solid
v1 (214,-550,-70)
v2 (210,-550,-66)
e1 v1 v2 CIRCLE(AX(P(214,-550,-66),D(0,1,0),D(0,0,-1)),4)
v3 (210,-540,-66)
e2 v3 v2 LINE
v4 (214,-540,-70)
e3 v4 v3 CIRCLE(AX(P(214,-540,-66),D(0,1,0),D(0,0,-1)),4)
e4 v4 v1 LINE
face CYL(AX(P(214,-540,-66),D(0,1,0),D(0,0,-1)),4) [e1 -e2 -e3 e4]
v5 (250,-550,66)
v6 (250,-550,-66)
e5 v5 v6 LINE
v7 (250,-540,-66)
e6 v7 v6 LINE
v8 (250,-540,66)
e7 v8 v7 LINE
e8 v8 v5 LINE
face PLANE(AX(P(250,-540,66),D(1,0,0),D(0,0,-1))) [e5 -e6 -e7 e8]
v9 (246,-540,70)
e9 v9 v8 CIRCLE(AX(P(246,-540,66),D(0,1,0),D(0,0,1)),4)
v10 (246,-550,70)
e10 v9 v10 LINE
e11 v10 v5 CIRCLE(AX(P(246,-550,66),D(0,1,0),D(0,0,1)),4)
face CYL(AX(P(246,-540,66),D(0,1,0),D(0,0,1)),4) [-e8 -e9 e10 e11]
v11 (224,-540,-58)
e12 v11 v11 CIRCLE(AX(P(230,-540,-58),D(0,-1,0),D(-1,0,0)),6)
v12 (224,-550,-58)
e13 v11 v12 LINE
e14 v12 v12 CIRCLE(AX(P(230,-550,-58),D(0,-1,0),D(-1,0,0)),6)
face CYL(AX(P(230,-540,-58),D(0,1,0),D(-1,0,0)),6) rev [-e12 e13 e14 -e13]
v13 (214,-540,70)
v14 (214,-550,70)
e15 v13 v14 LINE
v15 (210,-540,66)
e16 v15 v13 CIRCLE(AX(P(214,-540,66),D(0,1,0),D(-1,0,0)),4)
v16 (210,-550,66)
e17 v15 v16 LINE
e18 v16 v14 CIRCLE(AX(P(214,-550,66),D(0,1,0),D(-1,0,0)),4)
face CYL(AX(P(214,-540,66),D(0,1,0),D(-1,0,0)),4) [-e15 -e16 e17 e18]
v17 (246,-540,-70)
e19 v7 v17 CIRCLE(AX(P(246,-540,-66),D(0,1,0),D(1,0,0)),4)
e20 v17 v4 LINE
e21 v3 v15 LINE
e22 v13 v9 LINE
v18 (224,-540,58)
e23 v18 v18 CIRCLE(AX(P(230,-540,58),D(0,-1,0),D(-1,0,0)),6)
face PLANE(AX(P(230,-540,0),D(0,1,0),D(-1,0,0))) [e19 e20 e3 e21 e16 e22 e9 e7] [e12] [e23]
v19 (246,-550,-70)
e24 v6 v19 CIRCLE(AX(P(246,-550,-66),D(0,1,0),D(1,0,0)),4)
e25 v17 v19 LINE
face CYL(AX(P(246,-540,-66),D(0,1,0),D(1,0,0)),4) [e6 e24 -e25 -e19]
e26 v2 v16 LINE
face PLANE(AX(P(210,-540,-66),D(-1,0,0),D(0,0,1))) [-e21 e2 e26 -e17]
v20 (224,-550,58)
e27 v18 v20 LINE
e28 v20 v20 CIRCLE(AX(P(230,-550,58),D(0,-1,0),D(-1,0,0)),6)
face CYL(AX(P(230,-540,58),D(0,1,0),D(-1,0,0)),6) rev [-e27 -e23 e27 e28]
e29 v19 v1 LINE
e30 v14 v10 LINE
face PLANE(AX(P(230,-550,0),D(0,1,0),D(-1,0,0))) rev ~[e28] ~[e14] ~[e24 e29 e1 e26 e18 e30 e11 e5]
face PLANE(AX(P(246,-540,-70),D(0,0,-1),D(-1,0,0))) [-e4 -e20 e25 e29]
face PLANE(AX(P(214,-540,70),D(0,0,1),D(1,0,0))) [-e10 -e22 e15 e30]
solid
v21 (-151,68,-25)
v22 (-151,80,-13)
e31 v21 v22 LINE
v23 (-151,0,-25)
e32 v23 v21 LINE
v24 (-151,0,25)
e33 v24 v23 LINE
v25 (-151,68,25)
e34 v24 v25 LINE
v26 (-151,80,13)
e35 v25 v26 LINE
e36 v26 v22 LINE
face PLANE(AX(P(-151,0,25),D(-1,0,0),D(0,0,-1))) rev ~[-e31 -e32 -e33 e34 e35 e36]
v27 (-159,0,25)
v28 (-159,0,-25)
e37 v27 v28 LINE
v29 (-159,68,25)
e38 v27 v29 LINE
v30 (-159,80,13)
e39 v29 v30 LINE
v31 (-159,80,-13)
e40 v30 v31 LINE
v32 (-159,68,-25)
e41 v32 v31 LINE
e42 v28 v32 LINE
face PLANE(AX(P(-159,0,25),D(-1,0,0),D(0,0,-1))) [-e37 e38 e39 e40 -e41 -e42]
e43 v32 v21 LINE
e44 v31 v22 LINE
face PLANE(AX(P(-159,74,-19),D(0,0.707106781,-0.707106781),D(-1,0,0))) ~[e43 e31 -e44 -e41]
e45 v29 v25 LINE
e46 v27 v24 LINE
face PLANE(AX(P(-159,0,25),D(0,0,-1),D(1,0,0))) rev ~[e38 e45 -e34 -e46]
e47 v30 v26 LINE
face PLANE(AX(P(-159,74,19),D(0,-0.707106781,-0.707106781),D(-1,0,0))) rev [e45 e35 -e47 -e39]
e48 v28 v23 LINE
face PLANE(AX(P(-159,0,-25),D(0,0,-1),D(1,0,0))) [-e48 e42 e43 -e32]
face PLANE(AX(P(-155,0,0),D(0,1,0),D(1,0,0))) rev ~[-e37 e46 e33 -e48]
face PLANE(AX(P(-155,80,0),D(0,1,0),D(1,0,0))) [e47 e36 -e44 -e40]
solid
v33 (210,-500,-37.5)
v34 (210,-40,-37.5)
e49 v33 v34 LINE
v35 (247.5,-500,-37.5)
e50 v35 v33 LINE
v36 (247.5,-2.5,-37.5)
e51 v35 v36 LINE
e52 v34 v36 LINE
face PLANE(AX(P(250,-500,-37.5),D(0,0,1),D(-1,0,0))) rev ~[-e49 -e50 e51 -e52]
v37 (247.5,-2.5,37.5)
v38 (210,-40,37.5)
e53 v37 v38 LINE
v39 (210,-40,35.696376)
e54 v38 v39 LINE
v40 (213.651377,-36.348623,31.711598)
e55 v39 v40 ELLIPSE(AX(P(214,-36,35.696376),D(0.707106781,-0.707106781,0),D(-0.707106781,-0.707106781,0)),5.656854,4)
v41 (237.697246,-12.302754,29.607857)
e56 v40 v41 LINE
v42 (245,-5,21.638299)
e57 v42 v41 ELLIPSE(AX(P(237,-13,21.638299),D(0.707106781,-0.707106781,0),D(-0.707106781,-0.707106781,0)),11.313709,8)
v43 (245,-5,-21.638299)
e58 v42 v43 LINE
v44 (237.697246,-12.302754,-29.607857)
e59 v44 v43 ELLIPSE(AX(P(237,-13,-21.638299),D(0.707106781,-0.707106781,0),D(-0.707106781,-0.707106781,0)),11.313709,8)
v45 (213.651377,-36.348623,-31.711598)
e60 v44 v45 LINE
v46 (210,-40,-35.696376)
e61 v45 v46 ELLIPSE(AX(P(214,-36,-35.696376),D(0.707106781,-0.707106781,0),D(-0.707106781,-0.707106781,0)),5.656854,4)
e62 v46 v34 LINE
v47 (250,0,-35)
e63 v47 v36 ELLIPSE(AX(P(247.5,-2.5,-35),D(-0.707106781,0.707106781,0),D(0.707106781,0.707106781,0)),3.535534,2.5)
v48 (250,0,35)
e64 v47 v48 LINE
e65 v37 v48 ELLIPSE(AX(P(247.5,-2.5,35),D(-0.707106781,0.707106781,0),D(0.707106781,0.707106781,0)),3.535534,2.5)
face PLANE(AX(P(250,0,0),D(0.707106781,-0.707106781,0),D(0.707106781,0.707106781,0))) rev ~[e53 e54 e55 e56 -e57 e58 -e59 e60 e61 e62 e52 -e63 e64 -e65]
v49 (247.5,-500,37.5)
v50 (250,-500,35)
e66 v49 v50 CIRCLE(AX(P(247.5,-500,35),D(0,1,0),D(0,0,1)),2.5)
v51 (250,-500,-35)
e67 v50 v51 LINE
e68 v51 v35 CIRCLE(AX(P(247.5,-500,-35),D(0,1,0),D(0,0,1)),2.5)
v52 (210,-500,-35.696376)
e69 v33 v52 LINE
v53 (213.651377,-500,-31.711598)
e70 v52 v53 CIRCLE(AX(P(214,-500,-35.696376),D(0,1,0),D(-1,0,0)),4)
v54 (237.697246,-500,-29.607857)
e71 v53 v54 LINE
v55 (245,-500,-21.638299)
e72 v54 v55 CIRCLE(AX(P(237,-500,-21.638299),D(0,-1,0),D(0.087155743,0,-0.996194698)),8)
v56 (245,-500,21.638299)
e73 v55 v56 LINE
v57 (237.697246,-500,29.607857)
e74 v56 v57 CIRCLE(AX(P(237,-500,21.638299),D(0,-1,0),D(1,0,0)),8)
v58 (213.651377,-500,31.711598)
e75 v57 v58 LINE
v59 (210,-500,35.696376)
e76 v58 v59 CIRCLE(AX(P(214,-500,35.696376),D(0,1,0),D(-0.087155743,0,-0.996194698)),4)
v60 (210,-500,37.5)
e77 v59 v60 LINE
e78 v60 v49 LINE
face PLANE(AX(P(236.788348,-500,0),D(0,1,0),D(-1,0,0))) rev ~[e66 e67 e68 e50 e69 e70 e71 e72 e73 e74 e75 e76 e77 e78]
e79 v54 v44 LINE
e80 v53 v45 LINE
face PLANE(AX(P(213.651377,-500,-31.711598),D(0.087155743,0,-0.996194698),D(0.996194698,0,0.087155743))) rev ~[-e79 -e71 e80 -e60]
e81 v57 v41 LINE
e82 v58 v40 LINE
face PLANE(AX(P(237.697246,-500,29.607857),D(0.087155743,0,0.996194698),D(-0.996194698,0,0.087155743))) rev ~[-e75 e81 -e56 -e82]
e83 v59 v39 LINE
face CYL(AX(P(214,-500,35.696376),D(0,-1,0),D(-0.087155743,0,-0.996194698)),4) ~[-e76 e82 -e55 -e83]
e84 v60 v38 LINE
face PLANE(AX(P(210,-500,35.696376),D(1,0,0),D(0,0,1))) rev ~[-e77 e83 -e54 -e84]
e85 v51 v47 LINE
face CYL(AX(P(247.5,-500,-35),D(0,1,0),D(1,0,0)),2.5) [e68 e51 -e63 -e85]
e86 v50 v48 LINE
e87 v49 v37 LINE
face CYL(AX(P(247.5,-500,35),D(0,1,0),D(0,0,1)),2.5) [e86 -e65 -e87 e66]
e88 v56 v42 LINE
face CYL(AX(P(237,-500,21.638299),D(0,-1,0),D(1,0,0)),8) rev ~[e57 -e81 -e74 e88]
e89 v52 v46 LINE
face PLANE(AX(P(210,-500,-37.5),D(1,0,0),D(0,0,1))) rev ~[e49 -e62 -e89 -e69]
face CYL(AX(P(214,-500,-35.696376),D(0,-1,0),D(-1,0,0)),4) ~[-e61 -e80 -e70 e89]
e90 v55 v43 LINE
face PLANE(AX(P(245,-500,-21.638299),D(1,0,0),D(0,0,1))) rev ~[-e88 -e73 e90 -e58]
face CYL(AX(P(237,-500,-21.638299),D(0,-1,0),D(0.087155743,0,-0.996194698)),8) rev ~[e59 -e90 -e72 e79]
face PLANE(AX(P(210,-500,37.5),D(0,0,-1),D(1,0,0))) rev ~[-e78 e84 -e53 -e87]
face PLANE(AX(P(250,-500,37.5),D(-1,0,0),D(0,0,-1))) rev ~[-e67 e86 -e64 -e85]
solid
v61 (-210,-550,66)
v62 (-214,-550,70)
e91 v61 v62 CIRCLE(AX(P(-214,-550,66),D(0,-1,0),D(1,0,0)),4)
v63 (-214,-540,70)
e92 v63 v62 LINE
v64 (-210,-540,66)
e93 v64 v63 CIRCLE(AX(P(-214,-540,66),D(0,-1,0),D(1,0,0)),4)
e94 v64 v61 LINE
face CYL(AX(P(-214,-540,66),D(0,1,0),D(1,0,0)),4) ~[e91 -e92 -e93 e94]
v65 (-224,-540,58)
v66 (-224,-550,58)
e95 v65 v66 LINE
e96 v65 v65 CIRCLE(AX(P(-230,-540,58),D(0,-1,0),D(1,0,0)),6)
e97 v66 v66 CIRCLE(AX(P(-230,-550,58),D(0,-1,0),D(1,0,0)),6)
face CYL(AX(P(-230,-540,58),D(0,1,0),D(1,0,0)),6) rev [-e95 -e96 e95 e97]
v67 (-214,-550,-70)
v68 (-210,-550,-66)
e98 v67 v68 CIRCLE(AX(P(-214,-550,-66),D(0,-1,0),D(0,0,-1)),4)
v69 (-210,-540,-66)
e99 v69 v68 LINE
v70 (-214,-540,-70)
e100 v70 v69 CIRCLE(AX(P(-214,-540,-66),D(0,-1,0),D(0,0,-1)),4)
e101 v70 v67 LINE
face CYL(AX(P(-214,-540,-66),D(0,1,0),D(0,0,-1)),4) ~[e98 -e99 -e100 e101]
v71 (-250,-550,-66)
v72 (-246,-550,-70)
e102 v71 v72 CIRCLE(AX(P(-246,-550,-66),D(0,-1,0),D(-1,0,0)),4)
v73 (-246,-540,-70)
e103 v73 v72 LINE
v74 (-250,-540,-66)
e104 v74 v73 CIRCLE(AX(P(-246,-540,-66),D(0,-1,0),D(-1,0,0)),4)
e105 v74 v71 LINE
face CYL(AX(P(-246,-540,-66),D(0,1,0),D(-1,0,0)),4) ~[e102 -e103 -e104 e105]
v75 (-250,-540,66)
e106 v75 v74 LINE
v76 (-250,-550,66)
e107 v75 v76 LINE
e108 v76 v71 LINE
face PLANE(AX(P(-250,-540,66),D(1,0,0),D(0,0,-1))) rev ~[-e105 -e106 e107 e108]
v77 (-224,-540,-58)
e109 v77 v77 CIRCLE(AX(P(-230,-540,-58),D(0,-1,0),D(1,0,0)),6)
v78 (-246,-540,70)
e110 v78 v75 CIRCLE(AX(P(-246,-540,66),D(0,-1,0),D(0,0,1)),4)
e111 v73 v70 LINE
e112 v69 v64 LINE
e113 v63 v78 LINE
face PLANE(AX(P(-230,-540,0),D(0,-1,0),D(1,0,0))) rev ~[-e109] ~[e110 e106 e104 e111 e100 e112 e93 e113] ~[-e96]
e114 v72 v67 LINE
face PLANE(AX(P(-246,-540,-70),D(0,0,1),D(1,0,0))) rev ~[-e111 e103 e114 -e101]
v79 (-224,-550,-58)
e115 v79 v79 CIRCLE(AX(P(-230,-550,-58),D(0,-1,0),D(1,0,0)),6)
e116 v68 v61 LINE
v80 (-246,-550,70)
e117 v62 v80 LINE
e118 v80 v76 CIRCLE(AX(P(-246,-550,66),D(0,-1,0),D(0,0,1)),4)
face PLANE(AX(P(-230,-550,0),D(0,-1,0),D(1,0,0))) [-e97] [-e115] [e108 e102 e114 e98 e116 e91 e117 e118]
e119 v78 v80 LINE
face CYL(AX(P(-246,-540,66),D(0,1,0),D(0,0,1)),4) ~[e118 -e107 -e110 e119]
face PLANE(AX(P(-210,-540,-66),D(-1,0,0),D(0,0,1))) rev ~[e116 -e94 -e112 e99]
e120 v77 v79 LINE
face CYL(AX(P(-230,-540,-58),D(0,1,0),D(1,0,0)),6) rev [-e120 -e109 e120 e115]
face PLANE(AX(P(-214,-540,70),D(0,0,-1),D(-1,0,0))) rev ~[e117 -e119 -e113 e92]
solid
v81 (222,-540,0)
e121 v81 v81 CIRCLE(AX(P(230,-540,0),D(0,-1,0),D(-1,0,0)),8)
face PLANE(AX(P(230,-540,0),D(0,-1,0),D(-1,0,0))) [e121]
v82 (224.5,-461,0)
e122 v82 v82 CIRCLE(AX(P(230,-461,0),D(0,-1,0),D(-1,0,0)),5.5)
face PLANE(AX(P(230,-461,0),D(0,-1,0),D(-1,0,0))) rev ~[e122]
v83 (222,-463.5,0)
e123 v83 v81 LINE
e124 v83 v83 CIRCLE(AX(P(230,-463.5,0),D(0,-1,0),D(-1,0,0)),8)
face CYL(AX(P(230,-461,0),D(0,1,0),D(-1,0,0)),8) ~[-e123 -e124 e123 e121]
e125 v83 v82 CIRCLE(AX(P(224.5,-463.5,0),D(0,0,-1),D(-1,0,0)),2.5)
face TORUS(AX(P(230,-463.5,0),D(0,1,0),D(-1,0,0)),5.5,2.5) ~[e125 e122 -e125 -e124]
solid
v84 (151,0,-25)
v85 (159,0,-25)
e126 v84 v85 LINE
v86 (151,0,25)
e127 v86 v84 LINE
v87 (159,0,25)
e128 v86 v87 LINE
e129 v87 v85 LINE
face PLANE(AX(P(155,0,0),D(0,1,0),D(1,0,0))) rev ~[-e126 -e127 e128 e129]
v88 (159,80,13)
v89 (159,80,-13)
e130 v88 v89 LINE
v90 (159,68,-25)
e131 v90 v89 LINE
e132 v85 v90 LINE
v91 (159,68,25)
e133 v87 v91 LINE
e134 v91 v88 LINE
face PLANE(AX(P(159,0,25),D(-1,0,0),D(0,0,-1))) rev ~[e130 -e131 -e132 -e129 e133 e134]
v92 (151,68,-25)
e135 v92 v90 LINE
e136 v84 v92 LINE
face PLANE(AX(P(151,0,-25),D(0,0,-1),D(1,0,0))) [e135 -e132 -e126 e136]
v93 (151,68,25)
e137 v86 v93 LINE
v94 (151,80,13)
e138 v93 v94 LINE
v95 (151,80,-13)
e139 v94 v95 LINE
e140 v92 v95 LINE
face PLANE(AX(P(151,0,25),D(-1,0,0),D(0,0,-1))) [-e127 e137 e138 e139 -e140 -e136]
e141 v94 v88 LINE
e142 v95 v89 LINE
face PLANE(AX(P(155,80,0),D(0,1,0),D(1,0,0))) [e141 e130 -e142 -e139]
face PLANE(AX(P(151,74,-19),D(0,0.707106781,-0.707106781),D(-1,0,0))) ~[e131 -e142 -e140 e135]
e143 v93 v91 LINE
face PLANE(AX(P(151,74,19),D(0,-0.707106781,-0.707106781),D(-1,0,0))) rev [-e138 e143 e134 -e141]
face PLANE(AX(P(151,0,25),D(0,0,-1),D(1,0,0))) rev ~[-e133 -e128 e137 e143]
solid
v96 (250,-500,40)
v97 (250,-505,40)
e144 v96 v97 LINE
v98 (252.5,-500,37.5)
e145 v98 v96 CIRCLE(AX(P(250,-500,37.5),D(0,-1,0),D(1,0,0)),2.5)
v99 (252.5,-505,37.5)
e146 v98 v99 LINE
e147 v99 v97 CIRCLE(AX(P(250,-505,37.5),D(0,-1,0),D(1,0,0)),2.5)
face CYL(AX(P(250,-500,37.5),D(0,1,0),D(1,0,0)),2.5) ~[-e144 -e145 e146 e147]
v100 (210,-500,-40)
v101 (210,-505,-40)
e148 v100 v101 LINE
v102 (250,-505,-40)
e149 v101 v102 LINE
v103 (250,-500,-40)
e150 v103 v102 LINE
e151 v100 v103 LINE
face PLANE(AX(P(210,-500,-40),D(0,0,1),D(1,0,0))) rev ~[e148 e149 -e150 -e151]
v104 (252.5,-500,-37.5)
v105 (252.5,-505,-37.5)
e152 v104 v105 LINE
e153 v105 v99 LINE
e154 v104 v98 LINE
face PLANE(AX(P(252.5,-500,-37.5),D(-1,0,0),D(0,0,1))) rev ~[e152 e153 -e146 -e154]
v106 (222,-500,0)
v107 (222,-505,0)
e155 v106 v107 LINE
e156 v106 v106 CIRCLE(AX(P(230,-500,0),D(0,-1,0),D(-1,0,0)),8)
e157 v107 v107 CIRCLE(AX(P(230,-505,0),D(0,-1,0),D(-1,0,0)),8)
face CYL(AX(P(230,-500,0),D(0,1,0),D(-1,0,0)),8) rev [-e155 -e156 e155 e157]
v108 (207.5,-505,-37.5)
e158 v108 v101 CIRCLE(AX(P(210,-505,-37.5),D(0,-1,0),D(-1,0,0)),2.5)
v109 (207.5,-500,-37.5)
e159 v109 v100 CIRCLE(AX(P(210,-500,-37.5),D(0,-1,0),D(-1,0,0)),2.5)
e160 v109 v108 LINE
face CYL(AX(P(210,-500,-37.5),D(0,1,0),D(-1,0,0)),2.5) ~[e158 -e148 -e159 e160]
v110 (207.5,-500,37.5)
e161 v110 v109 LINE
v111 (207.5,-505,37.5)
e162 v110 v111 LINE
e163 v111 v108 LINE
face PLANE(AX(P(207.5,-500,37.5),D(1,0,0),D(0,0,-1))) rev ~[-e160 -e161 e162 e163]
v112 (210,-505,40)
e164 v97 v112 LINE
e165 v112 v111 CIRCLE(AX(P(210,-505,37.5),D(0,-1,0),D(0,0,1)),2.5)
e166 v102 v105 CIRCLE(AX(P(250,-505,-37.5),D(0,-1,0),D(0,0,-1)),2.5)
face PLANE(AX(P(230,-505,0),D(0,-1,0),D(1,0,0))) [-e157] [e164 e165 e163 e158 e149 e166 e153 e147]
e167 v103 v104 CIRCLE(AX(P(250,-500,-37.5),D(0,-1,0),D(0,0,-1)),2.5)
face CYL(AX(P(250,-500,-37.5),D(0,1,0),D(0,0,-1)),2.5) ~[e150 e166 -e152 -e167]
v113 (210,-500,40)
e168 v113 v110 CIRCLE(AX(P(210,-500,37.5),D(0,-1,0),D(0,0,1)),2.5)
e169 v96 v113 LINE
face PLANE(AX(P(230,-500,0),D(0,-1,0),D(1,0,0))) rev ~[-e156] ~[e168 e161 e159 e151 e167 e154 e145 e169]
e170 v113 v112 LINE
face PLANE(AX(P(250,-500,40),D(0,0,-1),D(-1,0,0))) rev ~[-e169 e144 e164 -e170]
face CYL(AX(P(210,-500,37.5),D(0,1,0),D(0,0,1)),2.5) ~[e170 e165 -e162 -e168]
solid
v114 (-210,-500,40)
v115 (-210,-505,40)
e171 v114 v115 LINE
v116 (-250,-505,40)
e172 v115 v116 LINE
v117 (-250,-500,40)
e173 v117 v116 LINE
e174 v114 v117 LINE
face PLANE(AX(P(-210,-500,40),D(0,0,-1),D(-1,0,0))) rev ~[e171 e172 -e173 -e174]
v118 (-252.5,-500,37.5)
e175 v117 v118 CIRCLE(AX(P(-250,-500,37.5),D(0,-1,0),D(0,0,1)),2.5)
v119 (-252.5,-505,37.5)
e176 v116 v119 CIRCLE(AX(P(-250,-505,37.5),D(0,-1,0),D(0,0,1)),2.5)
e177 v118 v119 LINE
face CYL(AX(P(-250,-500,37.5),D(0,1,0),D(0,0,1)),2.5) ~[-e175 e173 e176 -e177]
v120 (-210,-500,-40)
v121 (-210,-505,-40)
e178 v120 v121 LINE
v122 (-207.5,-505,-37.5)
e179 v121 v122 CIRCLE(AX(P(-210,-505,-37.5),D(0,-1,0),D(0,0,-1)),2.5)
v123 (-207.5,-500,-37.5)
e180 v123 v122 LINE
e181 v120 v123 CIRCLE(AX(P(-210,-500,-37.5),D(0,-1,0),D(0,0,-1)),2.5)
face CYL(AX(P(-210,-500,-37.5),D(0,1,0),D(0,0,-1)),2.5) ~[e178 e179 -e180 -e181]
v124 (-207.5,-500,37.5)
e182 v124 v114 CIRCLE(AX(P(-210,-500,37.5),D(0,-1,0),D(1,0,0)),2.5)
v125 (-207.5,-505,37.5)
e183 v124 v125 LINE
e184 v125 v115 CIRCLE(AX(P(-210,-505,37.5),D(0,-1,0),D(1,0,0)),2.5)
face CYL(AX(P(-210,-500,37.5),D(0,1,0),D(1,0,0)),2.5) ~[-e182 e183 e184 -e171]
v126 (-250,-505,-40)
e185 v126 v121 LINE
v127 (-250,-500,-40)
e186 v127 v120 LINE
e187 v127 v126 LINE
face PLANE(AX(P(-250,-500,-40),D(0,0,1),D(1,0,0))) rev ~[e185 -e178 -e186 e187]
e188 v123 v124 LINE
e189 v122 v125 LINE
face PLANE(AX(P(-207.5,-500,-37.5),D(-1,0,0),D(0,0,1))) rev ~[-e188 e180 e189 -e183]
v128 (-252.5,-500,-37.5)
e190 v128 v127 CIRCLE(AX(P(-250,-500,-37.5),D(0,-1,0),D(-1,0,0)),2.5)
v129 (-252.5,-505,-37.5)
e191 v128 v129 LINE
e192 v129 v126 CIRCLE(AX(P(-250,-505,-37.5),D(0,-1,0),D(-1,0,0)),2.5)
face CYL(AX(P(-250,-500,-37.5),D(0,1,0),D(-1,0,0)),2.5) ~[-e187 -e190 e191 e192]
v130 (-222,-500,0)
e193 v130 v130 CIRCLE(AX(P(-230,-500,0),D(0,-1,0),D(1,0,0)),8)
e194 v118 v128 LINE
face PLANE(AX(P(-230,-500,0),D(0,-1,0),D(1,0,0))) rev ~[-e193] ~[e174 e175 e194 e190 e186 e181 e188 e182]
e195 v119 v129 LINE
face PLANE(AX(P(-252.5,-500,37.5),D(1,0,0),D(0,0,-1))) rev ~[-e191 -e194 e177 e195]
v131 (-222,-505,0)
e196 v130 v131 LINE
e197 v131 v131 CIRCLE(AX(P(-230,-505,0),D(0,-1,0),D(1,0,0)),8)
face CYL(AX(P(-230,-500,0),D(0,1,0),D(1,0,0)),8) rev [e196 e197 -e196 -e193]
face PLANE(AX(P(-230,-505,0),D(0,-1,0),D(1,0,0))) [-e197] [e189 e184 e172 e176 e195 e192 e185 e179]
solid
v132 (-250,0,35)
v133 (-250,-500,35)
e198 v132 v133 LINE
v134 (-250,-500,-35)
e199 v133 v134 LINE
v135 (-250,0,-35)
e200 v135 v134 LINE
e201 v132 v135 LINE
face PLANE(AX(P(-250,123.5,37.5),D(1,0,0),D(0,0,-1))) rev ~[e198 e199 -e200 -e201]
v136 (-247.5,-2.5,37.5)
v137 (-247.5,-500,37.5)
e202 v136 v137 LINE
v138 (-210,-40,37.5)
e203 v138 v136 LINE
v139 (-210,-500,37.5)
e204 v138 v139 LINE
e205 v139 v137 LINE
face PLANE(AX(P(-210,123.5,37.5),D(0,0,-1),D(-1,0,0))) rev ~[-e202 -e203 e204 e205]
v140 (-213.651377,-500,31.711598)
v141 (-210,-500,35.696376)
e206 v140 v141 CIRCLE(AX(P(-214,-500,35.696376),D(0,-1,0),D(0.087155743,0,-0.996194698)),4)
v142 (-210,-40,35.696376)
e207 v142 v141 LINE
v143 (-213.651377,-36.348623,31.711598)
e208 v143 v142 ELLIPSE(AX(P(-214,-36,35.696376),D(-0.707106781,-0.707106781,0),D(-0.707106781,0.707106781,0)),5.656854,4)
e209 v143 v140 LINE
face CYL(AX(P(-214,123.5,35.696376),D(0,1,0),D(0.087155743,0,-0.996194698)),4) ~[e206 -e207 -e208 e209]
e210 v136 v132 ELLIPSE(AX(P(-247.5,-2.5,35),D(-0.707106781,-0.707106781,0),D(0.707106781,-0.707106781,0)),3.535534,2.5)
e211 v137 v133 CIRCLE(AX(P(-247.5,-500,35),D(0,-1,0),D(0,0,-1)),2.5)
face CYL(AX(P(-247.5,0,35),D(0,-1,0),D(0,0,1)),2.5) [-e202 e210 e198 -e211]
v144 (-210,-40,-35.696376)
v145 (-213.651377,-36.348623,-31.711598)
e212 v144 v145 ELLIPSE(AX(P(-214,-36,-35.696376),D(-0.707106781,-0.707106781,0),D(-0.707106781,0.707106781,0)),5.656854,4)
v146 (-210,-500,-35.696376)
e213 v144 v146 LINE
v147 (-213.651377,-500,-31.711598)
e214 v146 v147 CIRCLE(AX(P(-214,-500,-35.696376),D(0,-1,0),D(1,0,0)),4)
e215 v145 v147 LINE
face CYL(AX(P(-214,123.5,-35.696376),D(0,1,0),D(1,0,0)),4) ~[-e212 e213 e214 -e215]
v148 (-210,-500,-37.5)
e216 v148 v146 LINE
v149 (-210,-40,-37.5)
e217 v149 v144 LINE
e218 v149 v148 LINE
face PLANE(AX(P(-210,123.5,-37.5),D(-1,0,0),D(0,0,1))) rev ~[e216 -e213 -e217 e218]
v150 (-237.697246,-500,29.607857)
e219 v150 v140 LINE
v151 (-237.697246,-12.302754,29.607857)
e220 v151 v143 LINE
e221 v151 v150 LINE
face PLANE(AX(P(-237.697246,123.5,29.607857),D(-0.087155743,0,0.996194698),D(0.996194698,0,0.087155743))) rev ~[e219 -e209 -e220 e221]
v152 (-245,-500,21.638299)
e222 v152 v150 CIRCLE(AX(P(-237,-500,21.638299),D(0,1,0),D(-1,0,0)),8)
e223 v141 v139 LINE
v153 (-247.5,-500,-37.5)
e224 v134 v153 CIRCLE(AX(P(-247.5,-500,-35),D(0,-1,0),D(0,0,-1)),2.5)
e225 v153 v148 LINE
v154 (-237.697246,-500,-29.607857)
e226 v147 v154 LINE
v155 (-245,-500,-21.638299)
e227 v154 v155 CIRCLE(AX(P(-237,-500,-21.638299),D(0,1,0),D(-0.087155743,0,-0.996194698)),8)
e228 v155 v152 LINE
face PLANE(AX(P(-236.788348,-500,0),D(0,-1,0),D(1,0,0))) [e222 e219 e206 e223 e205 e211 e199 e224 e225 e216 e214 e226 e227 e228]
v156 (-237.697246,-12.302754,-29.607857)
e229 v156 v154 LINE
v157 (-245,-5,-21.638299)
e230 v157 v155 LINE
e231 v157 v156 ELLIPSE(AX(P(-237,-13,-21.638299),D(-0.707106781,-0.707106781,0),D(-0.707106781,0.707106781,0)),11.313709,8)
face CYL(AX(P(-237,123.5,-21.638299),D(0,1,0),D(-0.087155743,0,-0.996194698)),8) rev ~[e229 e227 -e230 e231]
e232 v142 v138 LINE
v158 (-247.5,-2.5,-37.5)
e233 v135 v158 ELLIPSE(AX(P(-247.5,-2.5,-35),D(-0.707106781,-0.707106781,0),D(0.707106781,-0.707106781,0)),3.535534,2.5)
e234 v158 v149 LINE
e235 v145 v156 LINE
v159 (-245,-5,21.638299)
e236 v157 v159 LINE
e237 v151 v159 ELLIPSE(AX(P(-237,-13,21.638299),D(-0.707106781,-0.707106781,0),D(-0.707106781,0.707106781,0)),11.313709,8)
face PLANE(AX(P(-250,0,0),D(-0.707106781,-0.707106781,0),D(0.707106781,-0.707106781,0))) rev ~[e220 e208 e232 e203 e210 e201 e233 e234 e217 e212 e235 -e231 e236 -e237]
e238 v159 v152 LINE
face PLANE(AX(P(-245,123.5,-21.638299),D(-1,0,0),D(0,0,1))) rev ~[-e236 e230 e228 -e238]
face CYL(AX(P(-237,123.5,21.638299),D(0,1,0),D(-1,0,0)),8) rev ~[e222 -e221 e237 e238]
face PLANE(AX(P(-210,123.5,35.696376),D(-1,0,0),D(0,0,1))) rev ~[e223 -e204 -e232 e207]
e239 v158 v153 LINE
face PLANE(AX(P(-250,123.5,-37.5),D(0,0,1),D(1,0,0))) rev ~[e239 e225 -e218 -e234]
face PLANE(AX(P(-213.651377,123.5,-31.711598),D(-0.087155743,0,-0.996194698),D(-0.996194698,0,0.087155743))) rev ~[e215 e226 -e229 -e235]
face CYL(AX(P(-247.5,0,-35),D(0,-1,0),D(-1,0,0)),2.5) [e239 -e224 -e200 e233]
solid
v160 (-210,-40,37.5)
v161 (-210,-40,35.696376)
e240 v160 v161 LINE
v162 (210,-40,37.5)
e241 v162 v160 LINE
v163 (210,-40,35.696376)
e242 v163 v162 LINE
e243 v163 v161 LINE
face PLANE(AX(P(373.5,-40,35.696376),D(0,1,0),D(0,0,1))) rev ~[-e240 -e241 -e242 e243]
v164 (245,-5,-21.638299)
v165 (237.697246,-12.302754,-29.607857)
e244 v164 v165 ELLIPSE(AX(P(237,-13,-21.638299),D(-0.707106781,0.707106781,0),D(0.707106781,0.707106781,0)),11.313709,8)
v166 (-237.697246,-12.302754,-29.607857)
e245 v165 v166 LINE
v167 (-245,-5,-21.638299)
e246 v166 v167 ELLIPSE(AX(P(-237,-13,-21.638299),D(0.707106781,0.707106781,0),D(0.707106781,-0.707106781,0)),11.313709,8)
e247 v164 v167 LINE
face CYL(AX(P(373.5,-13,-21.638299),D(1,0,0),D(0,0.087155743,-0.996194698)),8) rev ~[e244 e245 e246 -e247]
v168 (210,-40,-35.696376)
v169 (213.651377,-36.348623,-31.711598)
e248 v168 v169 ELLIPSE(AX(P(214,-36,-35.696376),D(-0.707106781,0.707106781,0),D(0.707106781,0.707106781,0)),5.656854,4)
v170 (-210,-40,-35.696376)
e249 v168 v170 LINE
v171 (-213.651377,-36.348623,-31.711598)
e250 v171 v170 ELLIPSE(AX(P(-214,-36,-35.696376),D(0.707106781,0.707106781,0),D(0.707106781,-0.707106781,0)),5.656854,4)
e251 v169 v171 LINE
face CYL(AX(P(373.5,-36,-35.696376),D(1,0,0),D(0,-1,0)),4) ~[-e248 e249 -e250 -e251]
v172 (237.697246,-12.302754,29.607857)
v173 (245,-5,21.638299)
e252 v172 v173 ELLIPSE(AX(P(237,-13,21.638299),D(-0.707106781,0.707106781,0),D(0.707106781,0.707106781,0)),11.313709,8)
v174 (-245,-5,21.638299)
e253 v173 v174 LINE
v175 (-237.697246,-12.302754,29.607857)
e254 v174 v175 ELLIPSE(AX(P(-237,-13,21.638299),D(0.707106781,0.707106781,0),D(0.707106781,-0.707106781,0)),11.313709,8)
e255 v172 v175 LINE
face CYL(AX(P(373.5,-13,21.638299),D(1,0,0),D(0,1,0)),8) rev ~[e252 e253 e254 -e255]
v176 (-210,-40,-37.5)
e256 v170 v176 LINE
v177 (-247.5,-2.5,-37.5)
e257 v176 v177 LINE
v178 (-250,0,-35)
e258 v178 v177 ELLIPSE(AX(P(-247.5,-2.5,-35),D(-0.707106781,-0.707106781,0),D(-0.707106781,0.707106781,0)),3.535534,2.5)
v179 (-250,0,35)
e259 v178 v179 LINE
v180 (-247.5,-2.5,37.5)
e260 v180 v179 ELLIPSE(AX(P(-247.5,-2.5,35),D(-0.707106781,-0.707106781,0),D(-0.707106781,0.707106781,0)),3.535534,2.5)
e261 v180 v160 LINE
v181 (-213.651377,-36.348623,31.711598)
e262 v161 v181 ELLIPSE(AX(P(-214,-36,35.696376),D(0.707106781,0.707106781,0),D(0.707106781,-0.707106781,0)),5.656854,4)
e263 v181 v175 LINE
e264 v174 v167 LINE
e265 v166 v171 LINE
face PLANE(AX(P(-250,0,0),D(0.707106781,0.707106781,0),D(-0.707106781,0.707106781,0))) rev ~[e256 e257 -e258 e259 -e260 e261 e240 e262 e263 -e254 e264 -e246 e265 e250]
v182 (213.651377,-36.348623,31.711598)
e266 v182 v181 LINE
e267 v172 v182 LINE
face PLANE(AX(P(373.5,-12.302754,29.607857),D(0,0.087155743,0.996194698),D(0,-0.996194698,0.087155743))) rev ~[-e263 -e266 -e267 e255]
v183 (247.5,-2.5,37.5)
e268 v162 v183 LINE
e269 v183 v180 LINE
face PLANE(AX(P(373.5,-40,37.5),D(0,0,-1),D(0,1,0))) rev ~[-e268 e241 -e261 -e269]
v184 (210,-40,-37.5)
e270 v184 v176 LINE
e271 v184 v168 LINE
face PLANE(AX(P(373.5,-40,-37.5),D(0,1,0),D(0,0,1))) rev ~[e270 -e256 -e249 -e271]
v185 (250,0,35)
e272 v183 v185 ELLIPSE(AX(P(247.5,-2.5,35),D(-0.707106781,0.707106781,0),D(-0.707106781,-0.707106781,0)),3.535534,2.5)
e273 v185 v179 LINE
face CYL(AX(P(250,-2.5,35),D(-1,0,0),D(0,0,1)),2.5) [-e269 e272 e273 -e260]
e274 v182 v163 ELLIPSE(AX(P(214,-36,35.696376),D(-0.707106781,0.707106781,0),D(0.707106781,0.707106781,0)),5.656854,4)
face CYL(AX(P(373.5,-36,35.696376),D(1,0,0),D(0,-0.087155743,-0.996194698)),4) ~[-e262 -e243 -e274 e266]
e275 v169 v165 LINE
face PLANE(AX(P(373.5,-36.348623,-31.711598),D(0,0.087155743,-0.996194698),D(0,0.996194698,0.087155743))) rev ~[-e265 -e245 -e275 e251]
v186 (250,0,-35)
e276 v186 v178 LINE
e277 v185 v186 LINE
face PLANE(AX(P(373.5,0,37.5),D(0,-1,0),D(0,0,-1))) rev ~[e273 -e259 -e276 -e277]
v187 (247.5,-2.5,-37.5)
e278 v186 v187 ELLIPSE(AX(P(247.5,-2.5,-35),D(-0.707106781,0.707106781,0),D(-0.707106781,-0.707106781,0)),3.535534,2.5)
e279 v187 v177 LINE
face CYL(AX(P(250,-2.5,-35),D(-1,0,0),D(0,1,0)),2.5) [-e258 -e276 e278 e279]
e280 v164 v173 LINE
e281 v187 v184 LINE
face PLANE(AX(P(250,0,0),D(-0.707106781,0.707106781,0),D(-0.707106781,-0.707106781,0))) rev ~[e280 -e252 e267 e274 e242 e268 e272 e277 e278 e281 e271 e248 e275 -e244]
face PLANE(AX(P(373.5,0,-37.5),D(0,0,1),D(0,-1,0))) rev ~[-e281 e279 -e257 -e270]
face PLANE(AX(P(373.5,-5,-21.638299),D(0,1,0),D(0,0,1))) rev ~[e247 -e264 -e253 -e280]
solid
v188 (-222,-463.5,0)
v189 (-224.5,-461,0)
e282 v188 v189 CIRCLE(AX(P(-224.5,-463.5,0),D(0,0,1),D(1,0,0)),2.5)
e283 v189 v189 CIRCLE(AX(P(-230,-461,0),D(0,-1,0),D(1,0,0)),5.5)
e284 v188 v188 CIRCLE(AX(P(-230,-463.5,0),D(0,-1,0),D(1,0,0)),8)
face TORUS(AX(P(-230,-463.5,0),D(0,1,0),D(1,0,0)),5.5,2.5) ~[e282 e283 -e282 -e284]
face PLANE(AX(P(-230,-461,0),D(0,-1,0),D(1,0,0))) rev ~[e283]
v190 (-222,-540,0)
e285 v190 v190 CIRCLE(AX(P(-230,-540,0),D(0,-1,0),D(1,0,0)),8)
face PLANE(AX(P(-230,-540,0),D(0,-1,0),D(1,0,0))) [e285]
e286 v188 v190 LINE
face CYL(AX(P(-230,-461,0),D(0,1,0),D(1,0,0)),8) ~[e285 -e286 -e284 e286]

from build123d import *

# Parameters (mm, degrees)
CHANNEL_C_75_X_40_X_5_0_1_DEPTH        = 623.5
CHANNEL_C_75_X_40_X_5_0_1_2_DEPTH      = 747
CHANNEL_C_75_X_40_X_5_0_1_3_DEPTH      = 500
CHANNEL_C_75_X_40_X_5_0_1_3_DEPTH_BACK = 123.5
SKETCH15_R                             = 8
BOSS_EXTRUDE1_DEPTH                    = 5
BOSS_EXTRUDE1_2_DEPTH                  = 5
FILLET1_R                              = 2.5
FILLET2_R                              = 2.5
FILLET3_R                              = 2.5
SKETCH16_W                             = 8
SKETCH16_H                             = 50
BOSS_EXTRUDE2_DEPTH                    = 80
BOSS_EXTRUDE2_2_DEPTH                  = 80
CHAMFER1_SIZE                          = 12
CHAMFER2_SIZE                          = 12
BOSS_EXTRUDE3_DEPTH                    = 35
BOSS_EXTRUDE3_DEPTH_BACK               = 44
SKETCH17_R                             = 8
BOSS_EXTRUDE3_2_DEPTH                  = 35
BOSS_EXTRUDE3_2_DEPTH_BACK             = 44
FILLET6_R                              = 2.5
FILLET7_R                              = 2.5
SKETCH18_R                             = 6
BOSS_EXTRUDE4_DEPTH                    = 10
BOSS_EXTRUDE4_2_DEPTH                  = 10


with BuildPart() as part:
    # Sketch14 on segment 1 (carried to segment 1) → Channel C 75 X 40 X 5.0(1) (new body)
    with BuildSketch(Plane(origin=(250, -500, -37.5), x_dir=(-1, 0, 0), z_dir=(0, 1, 0))):
        with BuildLine():
            Line((40, 75), (0, 75))
            Line((0, 75), (0, 0))
            Line((0, 0), (40, 0))
            Line((40, 0), (40, 1.803623692))
            ThreePointArc((40, 1.803623692), (38.949109347, 4.505984523), (36.348622971, 5.788402485))
            Line((36.348622971, 5.788402485), (12.302754058, 7.892143419))
            ThreePointArc((12.302754058, 7.892143419), (7.101781306, 10.456979343), (5, 15.861701004))
            Line((5, 15.861701004), (5, 59.138298996))
            ThreePointArc((5, 59.138298996), (7.101781306, 64.543020657), (12.302754058, 67.107856581))
            Line((12.302754058, 67.107856581), (36.348622971, 69.211597515))
            ThreePointArc((36.348622971, 69.211597515), (38.949109347, 70.494015477), (40, 73.196376308))
            Line((40, 73.196376308), (40, 75))
        make_face()
    extrude(amount=CHANNEL_C_75_X_40_X_5_0_1_DEPTH)

    # Channel C 75 X 40 X 5.0(1) mitre 1
    split(bisect_by=Plane(origin=(250, 0, 0), x_dir=(0.707106781, 0.707106781, 0), z_dir=(0.707106781, -0.707106781, 0)), keep=Keep.TOP)

    # Fillet3
    fillet3_edges = [part.edges().sort_by_distance(p)[0] for p in [
        (250, -250, 37.5),
        (250, -250, -37.5),
    ]]
    fillet(fillet3_edges, radius=FILLET3_R)


with BuildPart() as body_2:
    # Sketch14 on segment 2 (carried to segment 2) → Channel C 75 X 40 X 5.0_1 2 (new body)
    with BuildSketch(Plane(origin=(373.5, 0, -37.5), x_dir=(0, -1, 0), z_dir=(-1, 0, 0))):
        with BuildLine():
            Line((40, 75), (0, 75))
            Line((0, 75), (0, 0))
            Line((0, 0), (40, 0))
            Line((40, 0), (40, 1.803623692))
            ThreePointArc((40, 1.803623692), (38.949109347, 4.505984523), (36.348622971, 5.788402485))
            Line((36.348622971, 5.788402485), (12.302754058, 7.892143419))
            ThreePointArc((12.302754058, 7.892143419), (7.101781306, 10.456979343), (5, 15.861701004))
            Line((5, 15.861701004), (5, 59.138298996))
            ThreePointArc((5, 59.138298996), (7.101781306, 64.543020657), (12.302754058, 67.107856581))
            Line((12.302754058, 67.107856581), (36.348622971, 69.211597515))
            ThreePointArc((36.348622971, 69.211597515), (38.949109347, 70.494015477), (40, 73.196376308))
            Line((40, 73.196376308), (40, 75))
        make_face()
    extrude(amount=CHANNEL_C_75_X_40_X_5_0_1_2_DEPTH)

    # Channel C 75 X 40 X 5.0_1 2 mitre 1
    split(bisect_by=Plane(origin=(250, 0, 0), x_dir=(-0.707106781, -0.707106781, 0), z_dir=(-0.707106781, 0.707106781, 0)), keep=Keep.TOP)

    # Channel C 75 X 40 X 5.0_1 2 mitre 2
    split(bisect_by=Plane(origin=(-250, 0, 0), x_dir=(-0.707106781, 0.707106781, 0), z_dir=(0.707106781, 0.707106781, 0)), keep=Keep.TOP)

    # Fillet2
    fillet2_edges = [body_2.edges().sort_by_distance(p)[0] for p in [
        (0, 0, 37.5),
        (0, 0, -37.5),
    ]]
    fillet(fillet2_edges, radius=FILLET2_R)


with BuildPart() as body_3:
    # Sketch14 → Channel C 75 X 40 X 5.0_1 3 (new, two sides: drawn at the far end of the back side and taken through both)
    with BuildSketch(Plane(origin=(-250, 0, -37.5), x_dir=(1, 0, 0), z_dir=(0, -1, 0)).offset(-CHANNEL_C_75_X_40_X_5_0_1_3_DEPTH_BACK)):
        with BuildLine():
            Line((40, 75), (0, 75))
            Line((0, 75), (0, 0))
            Line((0, 0), (40, 0))
            Line((40, 0), (40, 1.803623692))
            ThreePointArc((40, 1.803623692), (38.949109347, 4.505984523), (36.348622971, 5.788402485))
            Line((36.348622971, 5.788402485), (12.302754058, 7.892143419))
            ThreePointArc((12.302754058, 7.892143419), (7.101781306, 10.456979343), (5, 15.861701004))
            Line((5, 15.861701004), (5, 59.138298996))
            ThreePointArc((5, 59.138298996), (7.101781306, 64.543020657), (12.302754058, 67.107856581))
            Line((12.302754058, 67.107856581), (36.348622971, 69.211597515))
            ThreePointArc((36.348622971, 69.211597515), (38.949109347, 70.494015477), (40, 73.196376308))
            Line((40, 73.196376308), (40, 75))
        make_face()
    extrude(amount=CHANNEL_C_75_X_40_X_5_0_1_3_DEPTH + CHANNEL_C_75_X_40_X_5_0_1_3_DEPTH_BACK)

    # Channel C 75 X 40 X 5.0_1 3 mitre 1
    split(bisect_by=Plane(origin=(-250, 0, 0), x_dir=(0.707106781, -0.707106781, 0), z_dir=(-0.707106781, -0.707106781, 0)), keep=Keep.TOP)

    # Fillet1
    fillet1_edges = [body_3.edges().sort_by_distance(p)[0] for p in [
        (-250, -250, 37.5),
        (-250, -250, -37.5),
    ]]
    fillet(fillet1_edges, radius=FILLET1_R)


with BuildPart() as body_4:
    # Sketch15 → Boss-Extrude1 (new body)
    with BuildSketch(Plane.XZ.offset(500)):
        with BuildLine():
            Line((-252.5, 37.5), (-252.5, -37.5))
            ThreePointArc((-252.5, -37.5), (-251.767766953, -39.267766953), (-250, -40))
            Line((-250, -40), (-210, -40))
            ThreePointArc((-210, -40), (-208.232233047, -39.267766953), (-207.5, -37.5))
            Line((-207.5, -37.5), (-207.5, 37.5))
            ThreePointArc((-207.5, 37.5), (-208.232233047, 39.267766953), (-210, 40))
            Line((-210, 40), (-250, 40))
            ThreePointArc((-250, 40), (-251.767766953, 39.267766953), (-252.5, 37.5))
        make_face()
        with Locations((-230, 0)):
            Circle(SKETCH15_R, mode=Mode.SUBTRACT)
    extrude(amount=BOSS_EXTRUDE1_DEPTH)


with BuildPart() as body_5:
    # Sketch15 → Boss-Extrude1 2 (new body)
    with BuildSketch(Plane.XZ.offset(500)):
        with BuildLine():
            Line((252.5, -37.5), (252.5, 37.5))
            ThreePointArc((252.5, 37.5), (251.767766953, 39.267766953), (250, 40))
            Line((250, 40), (210, 40))
            ThreePointArc((210, 40), (208.232233047, 39.267766953), (207.5, 37.5))
            Line((207.5, 37.5), (207.5, -37.5))
            ThreePointArc((207.5, -37.5), (208.232233047, -39.267766953), (210, -40))
            Line((210, -40), (250, -40))
            ThreePointArc((250, -40), (251.767766953, -39.267766953), (252.5, -37.5))
        make_face()
        with Locations(Location((230, 0, 0), (0, 0, 180))):
            Circle(SKETCH15_R, mode=Mode.SUBTRACT)
    extrude(amount=BOSS_EXTRUDE1_2_DEPTH)


with BuildPart() as body_6:
    # Sketch16 → Boss-Extrude2 (new body)
    with BuildSketch(Plane(origin=(0, 0, 0), x_dir=(1, 0, 0), z_dir=(0, 1, 0))):
        with Locations((-155, 0)):
            Rectangle(SKETCH16_W, SKETCH16_H)
    extrude(amount=BOSS_EXTRUDE2_DEPTH)

    # Chamfer1
    chamfer1_edges = [body_6.edges().sort_by_distance(p)[0] for p in [
        (-155, 80, -25),
        (-155, 80, 25),
    ]]
    chamfer(chamfer1_edges, length=CHAMFER1_SIZE)


with BuildPart() as body_7:
    # Sketch16 → Boss-Extrude2 2 (new body)
    with BuildSketch(Plane(origin=(0, 0, 0), x_dir=(1, 0, 0), z_dir=(0, 1, 0))):
        with Locations((155, 0)):
            Rectangle(SKETCH16_W, SKETCH16_H)
    extrude(amount=BOSS_EXTRUDE2_2_DEPTH)

    # Chamfer2
    chamfer2_edges = [body_7.edges().sort_by_distance(p)[0] for p in [
        (155, 80, 25),
        (155, 80, -25),
    ]]
    chamfer(chamfer2_edges, length=CHAMFER2_SIZE)


with BuildPart() as body_8:
    # Sketch17 → Boss-Extrude3 (new, two sides: drawn at the far end of the back side and taken through both)
    with BuildSketch(Plane.XZ.offset(505).offset(-BOSS_EXTRUDE3_DEPTH_BACK)):
        with Locations((-230, 0)):
            Circle(SKETCH17_R)
    extrude(amount=BOSS_EXTRUDE3_DEPTH + BOSS_EXTRUDE3_DEPTH_BACK)

    # Fillet6
    fillet6_edges = [body_8.edges().sort_by_distance(p)[0] for p in [
        (-238, -461, 0),
    ]]
    fillet(fillet6_edges, radius=FILLET6_R)


with BuildPart() as body_9:
    # Sketch17 → Boss-Extrude3 2 (new, two sides: drawn at the far end of the back side and taken through both)
    with BuildSketch(Plane.XZ.offset(505).offset(-BOSS_EXTRUDE3_2_DEPTH_BACK)):
        with Locations(Location((230, 0, 0), (0, 0, 180))):
            Circle(SKETCH17_R)
    extrude(amount=BOSS_EXTRUDE3_2_DEPTH + BOSS_EXTRUDE3_2_DEPTH_BACK)

    # Fillet7
    fillet7_edges = [body_9.edges().sort_by_distance(p)[0] for p in [
        (238, -461, 0),
    ]]
    fillet(fillet7_edges, radius=FILLET7_R)


with BuildPart() as body_10:
    # Sketch18 → Boss-Extrude4 (new body)
    with BuildSketch(Plane.XZ.offset(540)):
        with BuildLine():
            Line((-246, -70), (-214, -70))
            ThreePointArc((-214, -70), (-211.171572875, -68.828427125), (-210, -66))
            Line((-210, -66), (-210, 66))
            ThreePointArc((-210, 66), (-211.171572875, 68.828427125), (-214, 70))
            Line((-214, 70), (-246, 70))
            ThreePointArc((-246, 70), (-248.828427125, 68.828427125), (-250, 66))
            Line((-250, 66), (-250, -66))
            ThreePointArc((-250, -66), (-248.828427125, -68.828427125), (-246, -70))
        make_face()
        with Locations((-230, 58)):
            Circle(SKETCH18_R, mode=Mode.SUBTRACT)
        with Locations((-230, -58)):
            Circle(SKETCH18_R, mode=Mode.SUBTRACT)
    extrude(amount=BOSS_EXTRUDE4_DEPTH)


with BuildPart() as body_11:
    # Sketch18 → Boss-Extrude4 2 (new body)
    with BuildSketch(Plane.XZ.offset(540)):
        with BuildLine():
            Line((210, -66), (210, 66))
            ThreePointArc((210, 66), (211.171572875, 68.828427125), (214, 70))
            Line((214, 70), (246, 70))
            ThreePointArc((246, 70), (248.828427125, 68.828427125), (250, 66))
            Line((250, 66), (250, -66))
            ThreePointArc((250, -66), (248.828427125, -68.828427125), (246, -70))
            Line((246, -70), (214, -70))
            ThreePointArc((214, -70), (211.171572875, -68.828427125), (210, -66))
        make_face()
        with Locations(Location((230, -58, 0), (0, 0, 180))):
            Circle(SKETCH18_R, mode=Mode.SUBTRACT)
        with Locations(Location((230, 58, 0), (0, 0, 180))):
            Circle(SKETCH18_R, mode=Mode.SUBTRACT)
    extrude(amount=BOSS_EXTRUDE4_2_DEPTH)


solid = Compound([part.part, body_2.part, body_3.part, body_4.part, body_5.part, body_6.part, body_7.part, body_8.part, body_9.part, body_10.part, body_11.part])
